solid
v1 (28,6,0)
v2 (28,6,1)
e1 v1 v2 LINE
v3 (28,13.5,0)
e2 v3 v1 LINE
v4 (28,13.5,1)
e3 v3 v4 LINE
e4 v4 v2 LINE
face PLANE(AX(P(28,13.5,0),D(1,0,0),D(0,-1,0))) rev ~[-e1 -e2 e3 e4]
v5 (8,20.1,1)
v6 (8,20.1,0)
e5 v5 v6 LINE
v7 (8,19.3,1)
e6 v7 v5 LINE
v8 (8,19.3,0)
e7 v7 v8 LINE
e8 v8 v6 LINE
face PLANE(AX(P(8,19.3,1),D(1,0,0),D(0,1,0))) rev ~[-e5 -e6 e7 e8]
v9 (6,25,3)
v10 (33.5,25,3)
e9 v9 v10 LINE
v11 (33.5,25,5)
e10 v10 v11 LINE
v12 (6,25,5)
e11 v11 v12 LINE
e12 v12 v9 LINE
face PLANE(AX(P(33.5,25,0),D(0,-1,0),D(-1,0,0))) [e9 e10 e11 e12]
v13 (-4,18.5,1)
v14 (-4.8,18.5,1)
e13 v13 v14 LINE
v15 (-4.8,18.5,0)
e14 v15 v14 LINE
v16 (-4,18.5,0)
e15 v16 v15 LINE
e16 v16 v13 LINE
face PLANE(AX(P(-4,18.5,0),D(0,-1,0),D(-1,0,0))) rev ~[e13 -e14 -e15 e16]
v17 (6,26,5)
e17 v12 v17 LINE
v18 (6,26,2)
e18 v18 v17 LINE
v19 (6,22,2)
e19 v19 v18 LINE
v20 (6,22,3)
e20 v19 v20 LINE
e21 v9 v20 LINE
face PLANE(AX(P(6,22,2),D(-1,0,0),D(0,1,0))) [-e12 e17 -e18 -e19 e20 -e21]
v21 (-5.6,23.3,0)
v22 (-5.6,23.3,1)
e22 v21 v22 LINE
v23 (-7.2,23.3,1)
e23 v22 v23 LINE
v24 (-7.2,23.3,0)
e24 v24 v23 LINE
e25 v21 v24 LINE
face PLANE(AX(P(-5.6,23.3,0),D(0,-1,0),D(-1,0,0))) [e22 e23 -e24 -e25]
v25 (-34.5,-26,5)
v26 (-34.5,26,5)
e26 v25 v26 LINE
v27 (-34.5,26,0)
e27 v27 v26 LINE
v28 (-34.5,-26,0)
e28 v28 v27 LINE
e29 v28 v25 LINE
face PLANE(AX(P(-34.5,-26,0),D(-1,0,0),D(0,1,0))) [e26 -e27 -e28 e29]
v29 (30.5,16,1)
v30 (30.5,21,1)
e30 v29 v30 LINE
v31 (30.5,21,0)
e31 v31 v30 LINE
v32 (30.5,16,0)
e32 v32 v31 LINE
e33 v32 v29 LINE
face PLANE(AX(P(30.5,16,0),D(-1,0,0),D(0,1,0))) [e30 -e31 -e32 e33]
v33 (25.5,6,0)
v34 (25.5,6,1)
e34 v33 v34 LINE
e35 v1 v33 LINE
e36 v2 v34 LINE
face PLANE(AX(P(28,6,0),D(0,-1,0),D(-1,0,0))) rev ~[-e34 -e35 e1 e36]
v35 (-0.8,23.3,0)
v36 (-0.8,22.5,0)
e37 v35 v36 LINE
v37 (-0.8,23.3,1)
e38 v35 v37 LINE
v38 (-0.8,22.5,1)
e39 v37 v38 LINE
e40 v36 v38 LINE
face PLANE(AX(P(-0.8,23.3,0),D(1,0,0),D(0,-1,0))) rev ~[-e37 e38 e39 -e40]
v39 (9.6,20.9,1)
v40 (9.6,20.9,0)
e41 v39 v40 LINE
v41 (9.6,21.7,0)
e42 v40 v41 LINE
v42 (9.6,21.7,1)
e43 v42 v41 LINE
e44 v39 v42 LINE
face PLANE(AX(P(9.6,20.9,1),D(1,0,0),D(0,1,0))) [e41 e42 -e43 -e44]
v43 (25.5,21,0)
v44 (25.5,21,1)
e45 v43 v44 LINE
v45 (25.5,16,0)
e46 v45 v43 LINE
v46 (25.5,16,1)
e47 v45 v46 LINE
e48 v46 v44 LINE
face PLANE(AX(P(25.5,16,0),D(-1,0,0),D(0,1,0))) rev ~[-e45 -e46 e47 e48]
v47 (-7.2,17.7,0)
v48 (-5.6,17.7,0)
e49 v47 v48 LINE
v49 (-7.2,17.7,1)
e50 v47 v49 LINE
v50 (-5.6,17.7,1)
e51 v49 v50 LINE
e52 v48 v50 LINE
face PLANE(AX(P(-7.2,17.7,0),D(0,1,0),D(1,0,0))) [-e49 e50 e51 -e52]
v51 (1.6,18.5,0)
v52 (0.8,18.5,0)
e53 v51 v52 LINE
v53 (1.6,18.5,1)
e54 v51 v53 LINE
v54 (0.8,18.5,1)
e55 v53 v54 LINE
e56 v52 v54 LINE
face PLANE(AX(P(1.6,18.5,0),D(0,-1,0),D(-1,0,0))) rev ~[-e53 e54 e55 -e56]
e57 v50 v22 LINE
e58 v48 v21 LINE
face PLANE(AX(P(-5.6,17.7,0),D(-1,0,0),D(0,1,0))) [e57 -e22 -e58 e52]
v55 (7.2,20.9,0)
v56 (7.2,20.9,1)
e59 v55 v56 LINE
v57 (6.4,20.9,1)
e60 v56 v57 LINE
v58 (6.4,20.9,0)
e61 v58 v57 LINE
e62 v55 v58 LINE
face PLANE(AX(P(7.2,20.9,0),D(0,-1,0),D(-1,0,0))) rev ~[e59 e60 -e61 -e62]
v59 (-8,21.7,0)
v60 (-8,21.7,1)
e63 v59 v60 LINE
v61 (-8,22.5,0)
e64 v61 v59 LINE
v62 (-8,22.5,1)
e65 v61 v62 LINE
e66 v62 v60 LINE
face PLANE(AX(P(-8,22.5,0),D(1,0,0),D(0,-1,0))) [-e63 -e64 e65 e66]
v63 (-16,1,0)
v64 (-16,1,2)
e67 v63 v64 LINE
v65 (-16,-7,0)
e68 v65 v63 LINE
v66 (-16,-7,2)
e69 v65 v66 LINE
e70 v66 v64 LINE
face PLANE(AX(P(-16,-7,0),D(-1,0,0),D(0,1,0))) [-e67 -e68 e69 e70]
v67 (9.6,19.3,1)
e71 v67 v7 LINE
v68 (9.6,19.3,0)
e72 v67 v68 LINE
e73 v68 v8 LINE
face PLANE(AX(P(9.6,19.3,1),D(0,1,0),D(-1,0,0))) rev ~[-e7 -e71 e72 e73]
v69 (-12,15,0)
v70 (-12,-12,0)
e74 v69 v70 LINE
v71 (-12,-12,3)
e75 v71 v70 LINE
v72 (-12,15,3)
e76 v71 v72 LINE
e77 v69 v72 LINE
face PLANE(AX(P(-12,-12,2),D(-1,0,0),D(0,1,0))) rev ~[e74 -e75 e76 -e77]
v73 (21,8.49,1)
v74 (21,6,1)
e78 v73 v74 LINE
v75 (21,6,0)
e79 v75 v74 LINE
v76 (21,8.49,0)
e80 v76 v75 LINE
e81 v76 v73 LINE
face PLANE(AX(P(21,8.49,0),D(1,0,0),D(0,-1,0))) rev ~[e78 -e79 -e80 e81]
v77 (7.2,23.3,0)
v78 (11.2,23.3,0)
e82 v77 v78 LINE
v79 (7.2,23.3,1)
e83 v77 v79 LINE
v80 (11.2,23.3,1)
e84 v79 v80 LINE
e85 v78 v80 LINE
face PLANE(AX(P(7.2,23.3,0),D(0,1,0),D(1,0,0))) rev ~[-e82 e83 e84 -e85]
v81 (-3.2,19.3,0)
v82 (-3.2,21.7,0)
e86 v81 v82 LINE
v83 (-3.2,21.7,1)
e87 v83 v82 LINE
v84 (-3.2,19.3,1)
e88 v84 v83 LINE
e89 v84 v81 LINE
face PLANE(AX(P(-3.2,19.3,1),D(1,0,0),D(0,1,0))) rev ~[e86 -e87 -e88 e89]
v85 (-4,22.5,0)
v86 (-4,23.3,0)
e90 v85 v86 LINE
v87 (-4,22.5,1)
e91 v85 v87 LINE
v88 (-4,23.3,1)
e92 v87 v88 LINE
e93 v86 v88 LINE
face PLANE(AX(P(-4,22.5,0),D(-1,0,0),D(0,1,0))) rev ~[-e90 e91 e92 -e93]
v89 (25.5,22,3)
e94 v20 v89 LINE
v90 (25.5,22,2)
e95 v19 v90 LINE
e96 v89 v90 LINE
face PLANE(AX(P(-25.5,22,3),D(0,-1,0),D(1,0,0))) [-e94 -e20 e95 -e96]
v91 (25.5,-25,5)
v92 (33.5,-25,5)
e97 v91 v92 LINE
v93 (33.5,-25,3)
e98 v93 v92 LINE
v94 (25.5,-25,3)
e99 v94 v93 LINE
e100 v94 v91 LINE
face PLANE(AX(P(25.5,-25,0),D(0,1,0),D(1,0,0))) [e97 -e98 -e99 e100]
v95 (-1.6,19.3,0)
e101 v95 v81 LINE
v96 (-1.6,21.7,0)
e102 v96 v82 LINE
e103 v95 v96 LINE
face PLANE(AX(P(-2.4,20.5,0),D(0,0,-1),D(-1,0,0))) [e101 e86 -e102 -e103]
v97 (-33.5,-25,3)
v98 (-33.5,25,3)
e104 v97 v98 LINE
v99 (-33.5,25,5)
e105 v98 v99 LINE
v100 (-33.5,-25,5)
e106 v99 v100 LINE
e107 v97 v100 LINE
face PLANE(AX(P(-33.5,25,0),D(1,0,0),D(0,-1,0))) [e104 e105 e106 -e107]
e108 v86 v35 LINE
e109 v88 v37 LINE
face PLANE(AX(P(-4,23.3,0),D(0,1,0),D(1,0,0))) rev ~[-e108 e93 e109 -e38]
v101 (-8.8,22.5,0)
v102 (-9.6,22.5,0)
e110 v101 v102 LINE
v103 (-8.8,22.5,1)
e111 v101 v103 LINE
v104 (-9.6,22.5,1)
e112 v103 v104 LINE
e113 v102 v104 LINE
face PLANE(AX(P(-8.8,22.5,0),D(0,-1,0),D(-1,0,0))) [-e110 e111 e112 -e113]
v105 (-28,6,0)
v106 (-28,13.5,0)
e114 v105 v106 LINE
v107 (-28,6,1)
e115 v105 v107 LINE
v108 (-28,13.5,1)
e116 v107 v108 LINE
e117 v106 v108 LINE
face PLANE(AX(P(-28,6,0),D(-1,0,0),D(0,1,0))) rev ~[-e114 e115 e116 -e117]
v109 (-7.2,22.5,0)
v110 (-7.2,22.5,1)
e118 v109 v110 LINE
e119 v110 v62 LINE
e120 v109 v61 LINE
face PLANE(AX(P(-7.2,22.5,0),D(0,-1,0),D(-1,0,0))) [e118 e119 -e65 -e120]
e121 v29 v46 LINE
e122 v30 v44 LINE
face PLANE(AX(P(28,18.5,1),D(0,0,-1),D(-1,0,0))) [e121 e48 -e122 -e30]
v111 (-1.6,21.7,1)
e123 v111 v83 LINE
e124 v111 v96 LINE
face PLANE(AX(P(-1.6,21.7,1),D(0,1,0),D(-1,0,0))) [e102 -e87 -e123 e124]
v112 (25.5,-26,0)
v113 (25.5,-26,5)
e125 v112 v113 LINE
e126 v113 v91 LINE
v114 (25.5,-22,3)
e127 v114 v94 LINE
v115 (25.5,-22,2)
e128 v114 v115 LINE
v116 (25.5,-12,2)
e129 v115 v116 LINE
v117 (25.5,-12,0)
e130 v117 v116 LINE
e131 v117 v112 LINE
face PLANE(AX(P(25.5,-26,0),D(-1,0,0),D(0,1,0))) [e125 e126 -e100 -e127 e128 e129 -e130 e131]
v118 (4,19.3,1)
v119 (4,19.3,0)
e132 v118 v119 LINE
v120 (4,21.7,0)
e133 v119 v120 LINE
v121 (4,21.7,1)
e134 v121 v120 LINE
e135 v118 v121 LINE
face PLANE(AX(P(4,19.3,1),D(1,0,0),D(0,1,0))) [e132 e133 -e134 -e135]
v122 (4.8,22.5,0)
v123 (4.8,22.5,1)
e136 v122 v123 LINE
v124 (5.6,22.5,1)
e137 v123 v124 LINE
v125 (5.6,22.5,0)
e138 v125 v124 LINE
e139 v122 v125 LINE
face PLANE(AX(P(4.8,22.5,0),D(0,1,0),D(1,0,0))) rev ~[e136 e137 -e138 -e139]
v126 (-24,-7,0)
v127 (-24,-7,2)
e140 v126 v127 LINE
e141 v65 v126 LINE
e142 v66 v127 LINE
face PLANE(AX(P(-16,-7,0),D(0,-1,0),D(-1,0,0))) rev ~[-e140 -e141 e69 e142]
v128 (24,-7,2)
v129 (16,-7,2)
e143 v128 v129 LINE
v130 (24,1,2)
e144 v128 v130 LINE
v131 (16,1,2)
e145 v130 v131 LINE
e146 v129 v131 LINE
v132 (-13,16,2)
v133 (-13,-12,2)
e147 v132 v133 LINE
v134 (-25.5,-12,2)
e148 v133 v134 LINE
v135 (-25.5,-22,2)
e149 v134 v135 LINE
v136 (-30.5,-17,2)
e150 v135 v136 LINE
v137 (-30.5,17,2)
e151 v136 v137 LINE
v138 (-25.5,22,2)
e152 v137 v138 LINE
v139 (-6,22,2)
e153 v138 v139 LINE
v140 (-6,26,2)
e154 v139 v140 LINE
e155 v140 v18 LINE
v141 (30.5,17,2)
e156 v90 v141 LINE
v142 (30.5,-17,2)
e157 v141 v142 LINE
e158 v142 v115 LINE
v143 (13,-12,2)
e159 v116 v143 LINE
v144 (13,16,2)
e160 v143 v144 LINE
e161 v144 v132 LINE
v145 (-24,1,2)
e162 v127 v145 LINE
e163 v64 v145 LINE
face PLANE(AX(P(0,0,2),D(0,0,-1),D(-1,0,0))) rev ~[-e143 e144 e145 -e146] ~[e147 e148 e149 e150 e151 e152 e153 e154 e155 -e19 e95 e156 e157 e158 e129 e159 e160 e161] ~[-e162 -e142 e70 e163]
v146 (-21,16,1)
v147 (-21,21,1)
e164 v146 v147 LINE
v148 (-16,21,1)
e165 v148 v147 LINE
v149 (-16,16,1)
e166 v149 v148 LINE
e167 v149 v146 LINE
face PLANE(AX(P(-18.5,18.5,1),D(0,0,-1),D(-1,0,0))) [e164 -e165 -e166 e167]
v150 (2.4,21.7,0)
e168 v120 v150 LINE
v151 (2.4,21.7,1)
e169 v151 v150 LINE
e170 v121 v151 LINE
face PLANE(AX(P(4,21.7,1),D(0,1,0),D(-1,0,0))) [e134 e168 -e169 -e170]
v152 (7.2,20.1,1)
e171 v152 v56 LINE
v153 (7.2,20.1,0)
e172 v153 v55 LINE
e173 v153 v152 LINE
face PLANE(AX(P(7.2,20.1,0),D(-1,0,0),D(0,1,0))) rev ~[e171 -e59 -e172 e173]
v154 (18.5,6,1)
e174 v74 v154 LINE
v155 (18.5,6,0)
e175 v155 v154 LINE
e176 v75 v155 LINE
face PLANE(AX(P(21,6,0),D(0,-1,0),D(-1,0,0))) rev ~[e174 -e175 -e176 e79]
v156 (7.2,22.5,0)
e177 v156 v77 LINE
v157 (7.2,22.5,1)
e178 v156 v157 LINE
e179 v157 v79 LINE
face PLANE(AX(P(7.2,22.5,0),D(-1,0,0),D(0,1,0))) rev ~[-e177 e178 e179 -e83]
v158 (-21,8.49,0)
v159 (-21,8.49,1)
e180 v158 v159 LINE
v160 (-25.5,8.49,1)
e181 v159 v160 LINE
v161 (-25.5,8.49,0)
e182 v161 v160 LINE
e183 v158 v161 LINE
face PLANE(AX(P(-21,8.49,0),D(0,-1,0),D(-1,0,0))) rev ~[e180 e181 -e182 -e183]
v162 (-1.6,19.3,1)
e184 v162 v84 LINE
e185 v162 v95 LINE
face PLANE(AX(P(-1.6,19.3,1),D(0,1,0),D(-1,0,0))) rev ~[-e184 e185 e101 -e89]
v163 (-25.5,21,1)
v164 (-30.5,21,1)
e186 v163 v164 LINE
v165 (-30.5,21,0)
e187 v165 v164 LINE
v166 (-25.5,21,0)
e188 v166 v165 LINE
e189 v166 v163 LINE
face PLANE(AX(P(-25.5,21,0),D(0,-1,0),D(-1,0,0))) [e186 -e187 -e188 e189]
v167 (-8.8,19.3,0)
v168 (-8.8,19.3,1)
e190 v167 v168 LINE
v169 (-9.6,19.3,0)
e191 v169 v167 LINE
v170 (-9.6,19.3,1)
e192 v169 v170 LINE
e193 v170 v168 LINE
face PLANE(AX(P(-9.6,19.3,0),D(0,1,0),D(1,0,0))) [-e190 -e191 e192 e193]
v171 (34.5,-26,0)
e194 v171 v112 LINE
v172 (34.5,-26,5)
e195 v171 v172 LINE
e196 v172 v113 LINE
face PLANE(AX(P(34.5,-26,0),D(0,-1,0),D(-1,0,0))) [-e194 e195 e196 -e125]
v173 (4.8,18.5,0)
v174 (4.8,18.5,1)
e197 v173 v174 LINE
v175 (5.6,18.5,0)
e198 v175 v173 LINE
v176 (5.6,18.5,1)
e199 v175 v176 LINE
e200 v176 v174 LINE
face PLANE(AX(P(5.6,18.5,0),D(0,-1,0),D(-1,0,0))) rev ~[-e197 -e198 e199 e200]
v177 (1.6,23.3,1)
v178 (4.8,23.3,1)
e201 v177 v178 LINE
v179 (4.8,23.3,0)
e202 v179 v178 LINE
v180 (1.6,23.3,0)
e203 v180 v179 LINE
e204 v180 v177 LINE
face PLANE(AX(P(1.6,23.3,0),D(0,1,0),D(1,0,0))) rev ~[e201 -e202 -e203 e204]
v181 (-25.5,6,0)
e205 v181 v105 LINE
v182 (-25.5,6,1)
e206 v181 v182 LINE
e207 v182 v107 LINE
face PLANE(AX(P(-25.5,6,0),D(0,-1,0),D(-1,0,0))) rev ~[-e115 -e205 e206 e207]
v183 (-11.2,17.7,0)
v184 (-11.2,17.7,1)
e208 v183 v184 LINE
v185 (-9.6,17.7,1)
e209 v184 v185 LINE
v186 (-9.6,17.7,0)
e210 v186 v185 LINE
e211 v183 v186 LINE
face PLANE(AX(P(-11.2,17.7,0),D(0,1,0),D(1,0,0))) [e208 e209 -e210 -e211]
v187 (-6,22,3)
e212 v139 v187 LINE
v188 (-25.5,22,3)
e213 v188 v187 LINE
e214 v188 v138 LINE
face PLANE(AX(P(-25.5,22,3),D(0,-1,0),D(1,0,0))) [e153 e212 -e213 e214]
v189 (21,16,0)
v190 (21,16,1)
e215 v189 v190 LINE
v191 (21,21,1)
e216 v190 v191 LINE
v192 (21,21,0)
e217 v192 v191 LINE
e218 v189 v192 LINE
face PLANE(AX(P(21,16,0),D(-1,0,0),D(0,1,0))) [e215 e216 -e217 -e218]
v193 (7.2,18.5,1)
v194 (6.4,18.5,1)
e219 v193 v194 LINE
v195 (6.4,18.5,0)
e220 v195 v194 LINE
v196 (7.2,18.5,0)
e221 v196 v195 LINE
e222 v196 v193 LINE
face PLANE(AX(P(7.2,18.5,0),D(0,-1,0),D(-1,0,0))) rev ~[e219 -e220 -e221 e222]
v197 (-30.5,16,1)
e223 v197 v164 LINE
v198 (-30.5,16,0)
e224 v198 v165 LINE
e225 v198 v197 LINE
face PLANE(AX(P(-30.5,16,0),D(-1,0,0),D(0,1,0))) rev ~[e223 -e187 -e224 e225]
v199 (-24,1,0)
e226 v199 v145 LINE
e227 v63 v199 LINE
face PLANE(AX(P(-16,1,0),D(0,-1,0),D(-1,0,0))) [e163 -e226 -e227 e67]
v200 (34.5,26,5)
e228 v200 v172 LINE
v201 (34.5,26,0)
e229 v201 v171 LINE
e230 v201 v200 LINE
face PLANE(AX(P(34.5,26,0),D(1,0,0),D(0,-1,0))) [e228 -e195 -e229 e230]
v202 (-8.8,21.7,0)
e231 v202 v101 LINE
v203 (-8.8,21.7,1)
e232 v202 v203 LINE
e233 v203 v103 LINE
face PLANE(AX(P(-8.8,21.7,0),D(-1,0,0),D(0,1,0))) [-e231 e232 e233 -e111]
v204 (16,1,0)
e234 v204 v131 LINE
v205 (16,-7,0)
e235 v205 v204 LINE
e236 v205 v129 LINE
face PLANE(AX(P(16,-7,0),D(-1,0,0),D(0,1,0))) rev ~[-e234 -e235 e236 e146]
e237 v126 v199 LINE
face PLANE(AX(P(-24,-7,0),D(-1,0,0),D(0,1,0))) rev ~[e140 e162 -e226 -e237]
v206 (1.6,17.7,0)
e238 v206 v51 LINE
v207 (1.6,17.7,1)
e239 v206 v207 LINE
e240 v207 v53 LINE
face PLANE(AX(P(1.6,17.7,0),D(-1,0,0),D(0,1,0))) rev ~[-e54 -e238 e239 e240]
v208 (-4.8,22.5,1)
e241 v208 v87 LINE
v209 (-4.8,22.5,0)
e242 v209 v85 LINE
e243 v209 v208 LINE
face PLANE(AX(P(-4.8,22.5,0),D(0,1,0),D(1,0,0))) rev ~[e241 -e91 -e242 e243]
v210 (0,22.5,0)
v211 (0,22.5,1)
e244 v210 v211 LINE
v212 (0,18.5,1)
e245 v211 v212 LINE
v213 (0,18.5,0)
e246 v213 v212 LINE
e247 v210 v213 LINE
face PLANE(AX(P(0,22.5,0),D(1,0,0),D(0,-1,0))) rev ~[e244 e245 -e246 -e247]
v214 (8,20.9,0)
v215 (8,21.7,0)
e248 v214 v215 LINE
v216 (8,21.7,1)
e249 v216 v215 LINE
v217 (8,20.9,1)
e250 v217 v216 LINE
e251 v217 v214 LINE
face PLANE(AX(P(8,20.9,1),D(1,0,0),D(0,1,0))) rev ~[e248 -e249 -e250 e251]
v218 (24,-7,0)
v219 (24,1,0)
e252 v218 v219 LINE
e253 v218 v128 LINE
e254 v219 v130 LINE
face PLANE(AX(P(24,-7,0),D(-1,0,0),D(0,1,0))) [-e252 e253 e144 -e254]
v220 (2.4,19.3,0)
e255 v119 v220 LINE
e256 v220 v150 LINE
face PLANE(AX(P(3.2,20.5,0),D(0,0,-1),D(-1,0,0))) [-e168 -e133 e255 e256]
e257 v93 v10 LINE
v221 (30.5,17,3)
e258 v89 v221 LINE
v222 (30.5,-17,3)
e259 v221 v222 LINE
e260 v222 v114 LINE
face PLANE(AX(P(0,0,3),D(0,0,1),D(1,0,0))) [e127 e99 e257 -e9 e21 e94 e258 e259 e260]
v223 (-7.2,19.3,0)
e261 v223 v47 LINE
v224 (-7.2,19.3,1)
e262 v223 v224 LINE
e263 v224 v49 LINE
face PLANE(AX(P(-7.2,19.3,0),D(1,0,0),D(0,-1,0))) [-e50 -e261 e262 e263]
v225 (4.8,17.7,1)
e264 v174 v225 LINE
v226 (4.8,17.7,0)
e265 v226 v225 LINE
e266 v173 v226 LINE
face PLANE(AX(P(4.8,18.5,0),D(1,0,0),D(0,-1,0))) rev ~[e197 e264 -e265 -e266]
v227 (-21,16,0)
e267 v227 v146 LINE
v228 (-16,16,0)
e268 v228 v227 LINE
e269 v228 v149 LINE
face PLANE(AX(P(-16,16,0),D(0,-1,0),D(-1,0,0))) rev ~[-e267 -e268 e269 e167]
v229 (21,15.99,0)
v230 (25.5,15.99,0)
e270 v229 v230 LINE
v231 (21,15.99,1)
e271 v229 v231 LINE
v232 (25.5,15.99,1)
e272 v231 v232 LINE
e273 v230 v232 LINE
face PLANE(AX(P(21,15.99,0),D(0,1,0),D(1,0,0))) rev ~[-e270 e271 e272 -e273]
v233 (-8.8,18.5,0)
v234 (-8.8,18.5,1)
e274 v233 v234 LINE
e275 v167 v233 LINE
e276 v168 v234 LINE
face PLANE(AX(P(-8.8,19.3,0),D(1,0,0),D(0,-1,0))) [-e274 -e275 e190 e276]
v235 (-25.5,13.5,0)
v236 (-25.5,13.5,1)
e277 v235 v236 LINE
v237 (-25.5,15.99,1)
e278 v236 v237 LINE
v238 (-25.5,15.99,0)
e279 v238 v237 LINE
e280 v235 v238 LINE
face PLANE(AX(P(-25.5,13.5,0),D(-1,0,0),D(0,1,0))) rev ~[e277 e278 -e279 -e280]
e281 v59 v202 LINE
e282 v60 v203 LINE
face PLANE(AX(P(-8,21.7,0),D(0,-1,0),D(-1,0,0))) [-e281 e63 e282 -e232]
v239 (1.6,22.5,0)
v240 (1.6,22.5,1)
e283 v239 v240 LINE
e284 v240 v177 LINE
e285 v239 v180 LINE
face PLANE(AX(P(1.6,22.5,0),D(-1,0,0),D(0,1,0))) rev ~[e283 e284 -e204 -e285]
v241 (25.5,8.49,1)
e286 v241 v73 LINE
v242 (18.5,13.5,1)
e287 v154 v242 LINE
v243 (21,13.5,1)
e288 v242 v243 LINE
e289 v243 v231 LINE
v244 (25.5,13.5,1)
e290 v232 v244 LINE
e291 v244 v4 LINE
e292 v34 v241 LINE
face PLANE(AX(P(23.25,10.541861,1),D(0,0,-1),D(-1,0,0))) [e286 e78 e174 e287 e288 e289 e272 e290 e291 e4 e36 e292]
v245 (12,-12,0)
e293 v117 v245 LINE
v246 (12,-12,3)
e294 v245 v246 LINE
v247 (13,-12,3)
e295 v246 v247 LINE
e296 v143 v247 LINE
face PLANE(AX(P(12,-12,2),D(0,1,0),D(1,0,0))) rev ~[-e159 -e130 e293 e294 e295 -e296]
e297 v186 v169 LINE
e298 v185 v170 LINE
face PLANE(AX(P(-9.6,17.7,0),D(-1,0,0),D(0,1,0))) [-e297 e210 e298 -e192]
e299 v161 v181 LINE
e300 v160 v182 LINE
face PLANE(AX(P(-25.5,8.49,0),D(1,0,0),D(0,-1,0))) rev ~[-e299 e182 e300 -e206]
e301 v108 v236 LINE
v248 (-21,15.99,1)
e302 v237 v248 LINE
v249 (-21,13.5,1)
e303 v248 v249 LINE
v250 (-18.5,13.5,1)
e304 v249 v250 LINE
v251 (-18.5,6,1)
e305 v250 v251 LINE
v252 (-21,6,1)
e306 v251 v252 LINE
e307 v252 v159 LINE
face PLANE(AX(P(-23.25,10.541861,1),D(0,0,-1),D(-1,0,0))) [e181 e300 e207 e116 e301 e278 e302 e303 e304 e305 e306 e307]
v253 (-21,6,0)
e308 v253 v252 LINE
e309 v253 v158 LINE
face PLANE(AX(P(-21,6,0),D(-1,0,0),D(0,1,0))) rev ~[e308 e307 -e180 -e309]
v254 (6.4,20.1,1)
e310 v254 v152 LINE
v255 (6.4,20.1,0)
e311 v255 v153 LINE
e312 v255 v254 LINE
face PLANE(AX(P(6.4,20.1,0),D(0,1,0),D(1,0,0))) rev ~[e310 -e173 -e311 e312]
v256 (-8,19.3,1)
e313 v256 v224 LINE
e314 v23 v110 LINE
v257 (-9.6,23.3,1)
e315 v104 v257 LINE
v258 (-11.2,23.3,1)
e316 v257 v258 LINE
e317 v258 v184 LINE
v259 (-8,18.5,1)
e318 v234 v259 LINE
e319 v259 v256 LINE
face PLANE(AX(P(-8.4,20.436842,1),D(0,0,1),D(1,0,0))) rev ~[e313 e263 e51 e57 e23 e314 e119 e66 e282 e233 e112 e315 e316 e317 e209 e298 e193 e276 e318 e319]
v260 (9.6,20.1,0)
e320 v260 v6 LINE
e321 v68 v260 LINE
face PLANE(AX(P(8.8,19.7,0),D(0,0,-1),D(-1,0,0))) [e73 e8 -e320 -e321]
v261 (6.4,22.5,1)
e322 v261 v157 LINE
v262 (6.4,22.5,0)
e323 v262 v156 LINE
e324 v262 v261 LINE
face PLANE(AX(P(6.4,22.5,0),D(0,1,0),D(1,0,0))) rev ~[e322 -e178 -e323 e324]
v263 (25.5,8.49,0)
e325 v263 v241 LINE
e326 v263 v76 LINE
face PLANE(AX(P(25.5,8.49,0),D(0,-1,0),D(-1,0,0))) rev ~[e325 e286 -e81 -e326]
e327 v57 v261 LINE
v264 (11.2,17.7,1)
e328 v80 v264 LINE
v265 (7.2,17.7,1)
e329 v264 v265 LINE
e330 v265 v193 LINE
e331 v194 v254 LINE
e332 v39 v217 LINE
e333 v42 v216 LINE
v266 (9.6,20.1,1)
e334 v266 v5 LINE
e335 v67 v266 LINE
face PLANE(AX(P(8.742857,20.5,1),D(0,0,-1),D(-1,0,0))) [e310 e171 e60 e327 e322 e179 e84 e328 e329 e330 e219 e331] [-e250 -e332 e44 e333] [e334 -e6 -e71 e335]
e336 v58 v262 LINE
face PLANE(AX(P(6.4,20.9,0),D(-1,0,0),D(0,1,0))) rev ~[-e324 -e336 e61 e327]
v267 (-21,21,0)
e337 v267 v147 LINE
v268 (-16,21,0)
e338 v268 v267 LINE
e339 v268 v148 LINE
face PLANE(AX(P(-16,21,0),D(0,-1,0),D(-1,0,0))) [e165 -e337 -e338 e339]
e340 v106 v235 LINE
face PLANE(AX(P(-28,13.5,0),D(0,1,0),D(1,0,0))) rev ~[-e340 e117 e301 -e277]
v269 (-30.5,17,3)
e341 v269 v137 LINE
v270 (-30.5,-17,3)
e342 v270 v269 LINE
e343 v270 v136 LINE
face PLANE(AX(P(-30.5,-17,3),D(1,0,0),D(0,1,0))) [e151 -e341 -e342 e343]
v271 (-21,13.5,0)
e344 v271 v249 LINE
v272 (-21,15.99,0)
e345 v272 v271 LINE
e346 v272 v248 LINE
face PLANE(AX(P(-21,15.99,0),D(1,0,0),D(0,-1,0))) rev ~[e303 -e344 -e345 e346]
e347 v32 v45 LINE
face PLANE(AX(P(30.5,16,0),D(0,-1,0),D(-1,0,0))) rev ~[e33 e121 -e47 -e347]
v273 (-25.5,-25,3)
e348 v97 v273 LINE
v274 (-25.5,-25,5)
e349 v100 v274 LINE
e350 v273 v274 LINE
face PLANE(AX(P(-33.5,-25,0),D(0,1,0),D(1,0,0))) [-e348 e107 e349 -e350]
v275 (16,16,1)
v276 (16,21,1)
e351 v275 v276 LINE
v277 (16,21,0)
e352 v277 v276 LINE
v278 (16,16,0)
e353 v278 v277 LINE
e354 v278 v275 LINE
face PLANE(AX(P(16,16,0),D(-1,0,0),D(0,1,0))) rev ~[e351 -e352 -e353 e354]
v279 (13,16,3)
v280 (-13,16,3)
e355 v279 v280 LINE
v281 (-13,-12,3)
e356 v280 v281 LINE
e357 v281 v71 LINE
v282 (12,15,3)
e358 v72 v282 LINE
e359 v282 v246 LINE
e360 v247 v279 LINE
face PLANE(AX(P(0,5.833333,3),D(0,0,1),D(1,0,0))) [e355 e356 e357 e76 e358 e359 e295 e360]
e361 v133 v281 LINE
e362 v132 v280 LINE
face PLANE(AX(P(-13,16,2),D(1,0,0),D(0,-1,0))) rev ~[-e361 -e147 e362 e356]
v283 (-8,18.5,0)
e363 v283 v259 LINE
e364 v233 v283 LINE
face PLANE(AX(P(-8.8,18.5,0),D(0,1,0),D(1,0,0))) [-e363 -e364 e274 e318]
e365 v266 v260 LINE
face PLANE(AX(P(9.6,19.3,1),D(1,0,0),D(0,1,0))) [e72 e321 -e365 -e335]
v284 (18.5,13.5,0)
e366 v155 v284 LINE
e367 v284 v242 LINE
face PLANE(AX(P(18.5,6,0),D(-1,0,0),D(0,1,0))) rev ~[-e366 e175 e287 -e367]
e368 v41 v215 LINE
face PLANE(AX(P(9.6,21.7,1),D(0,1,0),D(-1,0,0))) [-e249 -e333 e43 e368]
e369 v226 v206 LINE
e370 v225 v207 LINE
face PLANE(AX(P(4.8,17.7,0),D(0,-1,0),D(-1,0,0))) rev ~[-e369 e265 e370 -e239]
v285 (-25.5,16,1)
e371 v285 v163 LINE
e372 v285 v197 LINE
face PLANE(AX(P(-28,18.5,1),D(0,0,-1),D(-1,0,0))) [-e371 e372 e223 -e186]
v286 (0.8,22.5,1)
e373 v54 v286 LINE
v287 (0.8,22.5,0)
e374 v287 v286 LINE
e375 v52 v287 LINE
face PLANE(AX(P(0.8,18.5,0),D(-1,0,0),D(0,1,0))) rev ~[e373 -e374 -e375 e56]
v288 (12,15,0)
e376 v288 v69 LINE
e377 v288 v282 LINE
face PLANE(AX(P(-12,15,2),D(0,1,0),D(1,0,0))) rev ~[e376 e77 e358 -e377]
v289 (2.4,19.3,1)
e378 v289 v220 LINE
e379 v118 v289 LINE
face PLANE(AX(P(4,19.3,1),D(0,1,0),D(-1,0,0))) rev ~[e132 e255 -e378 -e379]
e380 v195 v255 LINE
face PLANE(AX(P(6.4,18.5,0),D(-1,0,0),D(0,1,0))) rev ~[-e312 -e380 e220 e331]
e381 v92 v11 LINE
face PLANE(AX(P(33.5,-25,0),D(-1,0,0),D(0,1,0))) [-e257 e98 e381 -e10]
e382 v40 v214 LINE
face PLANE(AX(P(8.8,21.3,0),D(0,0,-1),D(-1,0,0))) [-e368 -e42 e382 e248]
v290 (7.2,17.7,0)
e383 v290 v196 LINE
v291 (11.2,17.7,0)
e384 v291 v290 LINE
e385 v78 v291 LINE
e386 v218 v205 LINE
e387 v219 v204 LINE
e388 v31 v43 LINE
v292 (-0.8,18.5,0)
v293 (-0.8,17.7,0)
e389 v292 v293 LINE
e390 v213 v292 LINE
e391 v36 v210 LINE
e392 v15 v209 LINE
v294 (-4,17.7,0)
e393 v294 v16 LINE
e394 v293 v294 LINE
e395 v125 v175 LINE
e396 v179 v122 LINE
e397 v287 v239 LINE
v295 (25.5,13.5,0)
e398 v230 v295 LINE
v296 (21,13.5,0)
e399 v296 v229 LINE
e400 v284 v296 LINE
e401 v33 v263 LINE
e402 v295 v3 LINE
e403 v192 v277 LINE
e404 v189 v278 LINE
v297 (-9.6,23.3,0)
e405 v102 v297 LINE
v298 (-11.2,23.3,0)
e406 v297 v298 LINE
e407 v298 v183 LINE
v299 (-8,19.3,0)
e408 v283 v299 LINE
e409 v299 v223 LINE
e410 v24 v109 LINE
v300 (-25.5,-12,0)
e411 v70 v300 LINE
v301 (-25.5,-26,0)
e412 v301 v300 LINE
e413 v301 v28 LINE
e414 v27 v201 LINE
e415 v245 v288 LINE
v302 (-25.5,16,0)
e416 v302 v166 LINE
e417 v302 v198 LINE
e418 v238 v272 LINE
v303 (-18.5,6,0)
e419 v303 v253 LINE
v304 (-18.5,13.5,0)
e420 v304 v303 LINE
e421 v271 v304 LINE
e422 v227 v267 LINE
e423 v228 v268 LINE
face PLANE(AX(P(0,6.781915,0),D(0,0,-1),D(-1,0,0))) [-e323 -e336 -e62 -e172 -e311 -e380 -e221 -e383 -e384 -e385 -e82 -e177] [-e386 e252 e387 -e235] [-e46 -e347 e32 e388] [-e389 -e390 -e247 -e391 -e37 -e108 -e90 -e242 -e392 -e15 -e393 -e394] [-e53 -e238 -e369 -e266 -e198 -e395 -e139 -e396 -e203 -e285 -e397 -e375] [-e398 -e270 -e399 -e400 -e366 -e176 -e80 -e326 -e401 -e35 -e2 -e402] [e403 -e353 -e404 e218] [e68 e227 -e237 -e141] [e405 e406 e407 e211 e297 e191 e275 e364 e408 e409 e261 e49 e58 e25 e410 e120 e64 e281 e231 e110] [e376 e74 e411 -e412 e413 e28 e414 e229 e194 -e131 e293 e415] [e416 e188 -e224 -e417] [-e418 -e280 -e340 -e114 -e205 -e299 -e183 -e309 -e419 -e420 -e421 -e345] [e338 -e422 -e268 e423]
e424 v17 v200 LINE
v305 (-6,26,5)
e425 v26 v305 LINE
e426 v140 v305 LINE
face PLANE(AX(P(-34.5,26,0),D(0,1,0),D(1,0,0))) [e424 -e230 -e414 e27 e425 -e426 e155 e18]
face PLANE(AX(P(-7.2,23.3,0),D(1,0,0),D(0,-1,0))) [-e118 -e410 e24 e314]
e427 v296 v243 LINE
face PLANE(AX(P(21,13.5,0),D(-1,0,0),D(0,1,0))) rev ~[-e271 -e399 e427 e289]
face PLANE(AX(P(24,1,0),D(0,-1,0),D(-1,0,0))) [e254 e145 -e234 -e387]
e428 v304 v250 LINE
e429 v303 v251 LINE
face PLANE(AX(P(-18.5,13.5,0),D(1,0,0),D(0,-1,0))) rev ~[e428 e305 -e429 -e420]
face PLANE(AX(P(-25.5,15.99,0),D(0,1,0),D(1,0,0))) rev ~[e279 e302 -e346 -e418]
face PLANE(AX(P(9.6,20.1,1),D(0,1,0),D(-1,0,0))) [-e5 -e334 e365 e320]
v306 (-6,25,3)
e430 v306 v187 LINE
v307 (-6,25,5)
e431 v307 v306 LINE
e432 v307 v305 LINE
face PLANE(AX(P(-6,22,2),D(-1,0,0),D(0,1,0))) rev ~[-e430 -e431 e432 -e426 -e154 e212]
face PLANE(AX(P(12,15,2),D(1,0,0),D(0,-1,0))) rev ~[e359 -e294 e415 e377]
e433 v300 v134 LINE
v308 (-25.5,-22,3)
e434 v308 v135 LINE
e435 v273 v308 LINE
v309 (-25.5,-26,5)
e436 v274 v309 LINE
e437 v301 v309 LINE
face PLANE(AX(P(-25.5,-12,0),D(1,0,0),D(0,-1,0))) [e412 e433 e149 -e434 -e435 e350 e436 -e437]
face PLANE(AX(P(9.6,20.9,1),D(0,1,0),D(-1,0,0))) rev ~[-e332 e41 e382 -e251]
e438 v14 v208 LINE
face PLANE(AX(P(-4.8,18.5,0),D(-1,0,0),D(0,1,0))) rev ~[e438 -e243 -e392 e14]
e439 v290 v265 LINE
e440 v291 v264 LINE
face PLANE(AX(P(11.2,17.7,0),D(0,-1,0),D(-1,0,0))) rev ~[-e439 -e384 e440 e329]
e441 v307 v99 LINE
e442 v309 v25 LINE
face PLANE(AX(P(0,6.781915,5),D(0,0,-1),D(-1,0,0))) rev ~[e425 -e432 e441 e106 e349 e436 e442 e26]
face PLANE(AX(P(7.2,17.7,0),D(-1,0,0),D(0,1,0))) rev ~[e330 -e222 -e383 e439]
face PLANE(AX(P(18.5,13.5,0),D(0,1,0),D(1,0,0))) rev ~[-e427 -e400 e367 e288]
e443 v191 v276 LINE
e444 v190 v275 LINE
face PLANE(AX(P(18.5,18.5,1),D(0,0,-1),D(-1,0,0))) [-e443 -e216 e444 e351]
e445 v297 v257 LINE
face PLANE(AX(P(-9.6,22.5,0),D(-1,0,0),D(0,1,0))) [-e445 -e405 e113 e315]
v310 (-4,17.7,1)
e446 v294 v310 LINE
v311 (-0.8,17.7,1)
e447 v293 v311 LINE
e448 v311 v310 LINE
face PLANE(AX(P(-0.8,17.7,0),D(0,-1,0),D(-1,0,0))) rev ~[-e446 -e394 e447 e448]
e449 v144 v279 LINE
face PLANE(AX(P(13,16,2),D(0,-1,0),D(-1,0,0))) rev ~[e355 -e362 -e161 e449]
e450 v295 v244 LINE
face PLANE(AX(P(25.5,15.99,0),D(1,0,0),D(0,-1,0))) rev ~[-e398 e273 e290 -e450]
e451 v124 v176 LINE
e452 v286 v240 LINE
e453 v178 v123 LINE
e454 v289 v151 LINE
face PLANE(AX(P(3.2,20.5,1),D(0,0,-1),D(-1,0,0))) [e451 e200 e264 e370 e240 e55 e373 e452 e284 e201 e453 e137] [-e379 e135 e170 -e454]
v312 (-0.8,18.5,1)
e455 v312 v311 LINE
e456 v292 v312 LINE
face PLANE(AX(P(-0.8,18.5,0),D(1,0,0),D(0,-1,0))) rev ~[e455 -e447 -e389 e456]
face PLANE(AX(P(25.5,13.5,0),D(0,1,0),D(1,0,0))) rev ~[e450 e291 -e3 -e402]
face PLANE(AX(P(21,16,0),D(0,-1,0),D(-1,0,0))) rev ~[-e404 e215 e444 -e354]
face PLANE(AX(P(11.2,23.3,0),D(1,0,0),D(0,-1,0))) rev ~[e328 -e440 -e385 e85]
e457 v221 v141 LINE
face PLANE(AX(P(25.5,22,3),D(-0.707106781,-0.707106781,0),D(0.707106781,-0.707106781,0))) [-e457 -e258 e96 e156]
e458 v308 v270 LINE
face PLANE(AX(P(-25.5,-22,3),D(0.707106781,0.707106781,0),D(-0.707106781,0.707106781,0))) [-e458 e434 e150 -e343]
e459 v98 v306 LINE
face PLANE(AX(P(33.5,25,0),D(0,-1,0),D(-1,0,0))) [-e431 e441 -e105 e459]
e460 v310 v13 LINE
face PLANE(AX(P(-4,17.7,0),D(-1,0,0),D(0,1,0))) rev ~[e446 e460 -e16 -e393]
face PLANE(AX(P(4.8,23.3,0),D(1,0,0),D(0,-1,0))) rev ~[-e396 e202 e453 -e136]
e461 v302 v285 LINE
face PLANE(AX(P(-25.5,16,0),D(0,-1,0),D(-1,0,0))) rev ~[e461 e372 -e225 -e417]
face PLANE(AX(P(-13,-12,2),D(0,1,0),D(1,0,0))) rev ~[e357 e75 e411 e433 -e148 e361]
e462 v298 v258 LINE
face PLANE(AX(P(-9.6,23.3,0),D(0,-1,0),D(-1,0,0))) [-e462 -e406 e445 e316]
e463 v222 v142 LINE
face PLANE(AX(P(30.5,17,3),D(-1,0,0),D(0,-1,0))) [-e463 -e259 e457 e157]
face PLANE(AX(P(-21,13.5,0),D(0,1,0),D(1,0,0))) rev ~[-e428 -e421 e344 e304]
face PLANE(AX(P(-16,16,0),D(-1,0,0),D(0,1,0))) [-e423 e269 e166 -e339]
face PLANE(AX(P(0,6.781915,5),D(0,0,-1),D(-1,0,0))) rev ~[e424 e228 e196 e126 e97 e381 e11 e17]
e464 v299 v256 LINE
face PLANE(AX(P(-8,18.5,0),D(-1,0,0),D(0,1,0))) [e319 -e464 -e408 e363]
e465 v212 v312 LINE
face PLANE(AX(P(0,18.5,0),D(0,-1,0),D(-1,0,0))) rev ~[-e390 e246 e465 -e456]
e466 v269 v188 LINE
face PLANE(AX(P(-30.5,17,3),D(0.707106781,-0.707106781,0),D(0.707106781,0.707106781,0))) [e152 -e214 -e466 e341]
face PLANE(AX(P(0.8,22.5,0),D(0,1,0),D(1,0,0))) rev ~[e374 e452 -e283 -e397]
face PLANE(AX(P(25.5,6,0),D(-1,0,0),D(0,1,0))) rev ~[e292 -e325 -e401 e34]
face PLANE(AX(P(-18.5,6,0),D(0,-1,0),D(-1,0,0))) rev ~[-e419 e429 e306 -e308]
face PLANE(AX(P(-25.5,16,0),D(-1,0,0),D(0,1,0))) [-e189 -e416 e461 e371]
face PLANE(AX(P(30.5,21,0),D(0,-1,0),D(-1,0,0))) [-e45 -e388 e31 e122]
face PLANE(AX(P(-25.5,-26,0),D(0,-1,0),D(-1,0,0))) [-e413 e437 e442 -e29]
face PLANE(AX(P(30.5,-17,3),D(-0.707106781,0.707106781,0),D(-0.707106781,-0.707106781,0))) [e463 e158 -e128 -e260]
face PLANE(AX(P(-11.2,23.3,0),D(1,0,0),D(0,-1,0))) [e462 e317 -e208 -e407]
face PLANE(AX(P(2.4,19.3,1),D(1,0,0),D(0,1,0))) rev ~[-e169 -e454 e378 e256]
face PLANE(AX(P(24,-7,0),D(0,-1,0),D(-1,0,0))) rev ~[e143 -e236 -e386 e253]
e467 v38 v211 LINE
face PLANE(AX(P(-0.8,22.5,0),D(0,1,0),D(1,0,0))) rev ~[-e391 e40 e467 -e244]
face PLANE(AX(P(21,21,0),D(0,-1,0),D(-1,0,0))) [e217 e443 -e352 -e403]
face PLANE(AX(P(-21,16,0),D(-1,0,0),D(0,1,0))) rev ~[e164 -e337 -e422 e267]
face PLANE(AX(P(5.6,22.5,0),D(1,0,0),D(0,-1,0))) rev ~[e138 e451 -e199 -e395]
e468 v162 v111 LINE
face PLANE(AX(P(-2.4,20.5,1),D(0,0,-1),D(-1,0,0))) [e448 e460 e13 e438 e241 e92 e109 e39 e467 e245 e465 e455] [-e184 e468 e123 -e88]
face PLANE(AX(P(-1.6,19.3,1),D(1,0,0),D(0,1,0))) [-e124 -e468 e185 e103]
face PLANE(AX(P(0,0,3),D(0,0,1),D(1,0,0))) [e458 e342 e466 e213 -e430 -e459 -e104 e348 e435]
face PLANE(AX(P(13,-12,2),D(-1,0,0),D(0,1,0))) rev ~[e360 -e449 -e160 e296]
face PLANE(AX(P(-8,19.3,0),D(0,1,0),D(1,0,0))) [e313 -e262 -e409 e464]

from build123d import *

# Parameters (mm, degrees)
SKICA1_W                    = 67
SKICA1_H                    = 50
P_IDAT_VYSUNUT_M1_DEPTH     = 3
ODEBRAT_VYSUNUT_M1_DEPTH    = 1
SKICA3_W                    = 8
SKICA3_H                    = 8
ODEBRAT_VYSUNUT_M2_DEPTH    = 4
VYSUNOUT_TENKOST_NN_1_DEPTH = 1
VYSUNOUT_TENKOST_NN_2_DEPTH = 5
SKICA6_W                    = 12
SKICA6_H                    = 4
ODEBRAT_VYSUNUT_M3_DEPTH    = 4
SKICA7_W                    = 5
SKICA7_H                    = 5
ODEBRAT_VYSUNUT_M5_DEPTH    = 1
P_IDAT_START                = -1
SKICA8_W                    = 1.6
SKICA8_H                    = 0.8
SKICA8_H_2                  = 2.4
P_IDAT_VYSUNUT_M3_DEPTH     = 1


with BuildPart() as part:
    # Skica1 → Přidat vysunutím1 (new body)
    with BuildSketch(Plane.XY):
        Rectangle(SKICA1_W, SKICA1_H)
    extrude(amount=P_IDAT_VYSUNUT_M1_DEPTH)

    # Skica2 → Odebrat vysunutím1 (cut)
    with BuildSketch(Plane.XY.offset(3)):
        Polygon((-25.5, -22), (-30.5, -17), (-30.5, 17), (-25.5, 22), (25.5, 22), (30.5, 17), (30.5, -17), (25.5, -22), align=None)
    extrude(amount=-ODEBRAT_VYSUNUT_M1_DEPTH, mode=Mode.SUBTRACT)

    # Skica3 → Odebrat vysunutím2 (cut, through all)
    with BuildSketch(Plane(origin=(0, 0, 0), x_dir=(-1, 0, 0), z_dir=(0, 0, -1))):
        with Locations((20, -3)):
            Rectangle(SKICA3_W, SKICA3_H)
        with Locations((-20, -3)):
            Rectangle(SKICA3_W, SKICA3_H)
        Polygon((25.5, -25), (-25.5, -25), (-25.5, -12), (-12, -12), (-12, 15), (12, 15), (12, -12), (25.5, -12), align=None)
    extrude(amount=-ODEBRAT_VYSUNUT_M2_DEPTH, mode=Mode.SUBTRACT)

    # Skica4 → Vysunout tenkostěnný1 (add)
    with BuildSketch(Plane.XY.offset(2)):
        Polygon((-12, -12), (-12, 15), (12, 15), (12, -12), (13, -12), (13, 16), (-13, 16), (-13, -12), align=None)
    extrude(amount=VYSUNOUT_TENKOST_NN_1_DEPTH)

    # Skica5 → Vysunout tenkostěnný2 (add)
    with BuildSketch(Plane(origin=(0, 0, 0), x_dir=(-1, 0, 0), z_dir=(0, 0, -1))):
        Polygon((-25.5, -25), (-33.5, -25), (-33.5, 25), (33.5, 25), (33.5, -25), (25.5, -25), (25.5, -26), (34.5, -26), (34.5, 26), (-34.5, 26), (-34.5, -26), (-25.5, -26), align=None)
    extrude(amount=-VYSUNOUT_TENKOST_NN_2_DEPTH)

    # Skica6 → Odebrat vysunutím3 (cut, through all)
    with BuildSketch(Plane.XY.offset(2)):
        with Locations((0, 24)):
            Rectangle(SKICA6_W, SKICA6_H)
    extrude(amount=ODEBRAT_VYSUNUT_M3_DEPTH, mode=Mode.SUBTRACT)

    # Skica7 → Odebrat vysunutím5 (cut)
    with BuildSketch(Plane(origin=(0, 0, 0), x_dir=(-1, 0, 0), z_dir=(0, 0, -1))):
        with Locations((-28, 18.5)):
            Rectangle(SKICA7_W, SKICA7_H)
        with Locations((-18.5, 18.5)):
            Rectangle(SKICA7_W, SKICA7_H)
        Polygon((-25.5, 15.99), (-25.5, 13.5), (-28, 13.5), (-28, 6), (-25.5, 6), (-25.5, 8.49), (-21, 8.49), (-21, 6), (-18.5, 6), (-18.5, 13.5), (-21, 13.5), (-21, 15.99), align=None)
        Polygon((21, 13.5), (18.5, 13.5), (18.5, 6), (21, 6), (21, 8.49), (25.5, 8.49), (25.5, 6), (28, 6), (28, 13.5), (25.5, 13.5), (25.5, 15.99), (21, 15.99), align=None)
        with Locations((18.5, 18.5)):
            Rectangle(SKICA7_W, SKICA7_H)
        with Locations((28, 18.5)):
            Rectangle(SKICA7_W, SKICA7_H)
        Polygon((-11.2, 23.3), (-11.2, 17.7), (-7.2, 17.7), (-7.2, 18.5), (-6.4, 18.5), (-6.4, 20.1), (-7.2, 20.1), (-7.2, 20.9), (-6.4, 20.9), (-6.4, 22.5), (-7.2, 22.5), (-7.2, 23.3), align=None)
        Polygon((-1.6, 23.3), (-4.8, 23.3), (-4.8, 22.5), (-5.6, 22.5), (-5.6, 18.5), (-4.8, 18.5), (-4.8, 17.7), (-1.6, 17.7), (-1.6, 18.5), (-0.8, 18.5), (-0.8, 22.5), (-1.6, 22.5), align=None)
        Polygon((0.8, 23.3), (0.8, 22.5), (0, 22.5), (0, 18.5), (0.8, 18.5), (0.8, 17.7), (4, 17.7), (4, 18.5), (4.8, 18.5), (4.8, 22.5), (4, 22.5), (4, 23.3), align=None)
        Polygon((5.6, 17.7), (5.6, 23.3), (7.2, 23.3), (7.2, 22.5), (8, 22.5), (8, 21.7), (8.8, 21.7), (8.8, 22.5), (9.6, 22.5), (9.6, 23.3), (11.2, 23.3), (11.2, 17.7), (9.6, 17.7), (9.6, 19.3), (8.8, 19.3), (8.8, 18.5), (8, 18.5), (8, 19.3), (7.2, 19.3), (7.2, 17.7), align=None)
    extrude(amount=-ODEBRAT_VYSUNUT_M5_DEPTH, mode=Mode.SUBTRACT)

    # Skica8 → Přidat vysunutím3 (add)
    with BuildSketch(Plane(origin=(0, 0, 0), x_dir=(-1, 0, 0), z_dir=(0, 0, -1)).offset(P_IDAT_START)):
        with Locations((-8.8, 21.3)):
            Rectangle(SKICA8_W, SKICA8_H)
        with Locations((-8.8, 19.7)):
            Rectangle(SKICA8_W, SKICA8_H)
        with Locations((-3.2, 20.5)):
            Rectangle(SKICA8_W, SKICA8_H_2)
        with Locations((2.4, 20.5)):
            Rectangle(SKICA8_W, SKICA8_H_2)
    extrude(amount=P_IDAT_VYSUNUT_M3_DEPTH)


solid = part.part
